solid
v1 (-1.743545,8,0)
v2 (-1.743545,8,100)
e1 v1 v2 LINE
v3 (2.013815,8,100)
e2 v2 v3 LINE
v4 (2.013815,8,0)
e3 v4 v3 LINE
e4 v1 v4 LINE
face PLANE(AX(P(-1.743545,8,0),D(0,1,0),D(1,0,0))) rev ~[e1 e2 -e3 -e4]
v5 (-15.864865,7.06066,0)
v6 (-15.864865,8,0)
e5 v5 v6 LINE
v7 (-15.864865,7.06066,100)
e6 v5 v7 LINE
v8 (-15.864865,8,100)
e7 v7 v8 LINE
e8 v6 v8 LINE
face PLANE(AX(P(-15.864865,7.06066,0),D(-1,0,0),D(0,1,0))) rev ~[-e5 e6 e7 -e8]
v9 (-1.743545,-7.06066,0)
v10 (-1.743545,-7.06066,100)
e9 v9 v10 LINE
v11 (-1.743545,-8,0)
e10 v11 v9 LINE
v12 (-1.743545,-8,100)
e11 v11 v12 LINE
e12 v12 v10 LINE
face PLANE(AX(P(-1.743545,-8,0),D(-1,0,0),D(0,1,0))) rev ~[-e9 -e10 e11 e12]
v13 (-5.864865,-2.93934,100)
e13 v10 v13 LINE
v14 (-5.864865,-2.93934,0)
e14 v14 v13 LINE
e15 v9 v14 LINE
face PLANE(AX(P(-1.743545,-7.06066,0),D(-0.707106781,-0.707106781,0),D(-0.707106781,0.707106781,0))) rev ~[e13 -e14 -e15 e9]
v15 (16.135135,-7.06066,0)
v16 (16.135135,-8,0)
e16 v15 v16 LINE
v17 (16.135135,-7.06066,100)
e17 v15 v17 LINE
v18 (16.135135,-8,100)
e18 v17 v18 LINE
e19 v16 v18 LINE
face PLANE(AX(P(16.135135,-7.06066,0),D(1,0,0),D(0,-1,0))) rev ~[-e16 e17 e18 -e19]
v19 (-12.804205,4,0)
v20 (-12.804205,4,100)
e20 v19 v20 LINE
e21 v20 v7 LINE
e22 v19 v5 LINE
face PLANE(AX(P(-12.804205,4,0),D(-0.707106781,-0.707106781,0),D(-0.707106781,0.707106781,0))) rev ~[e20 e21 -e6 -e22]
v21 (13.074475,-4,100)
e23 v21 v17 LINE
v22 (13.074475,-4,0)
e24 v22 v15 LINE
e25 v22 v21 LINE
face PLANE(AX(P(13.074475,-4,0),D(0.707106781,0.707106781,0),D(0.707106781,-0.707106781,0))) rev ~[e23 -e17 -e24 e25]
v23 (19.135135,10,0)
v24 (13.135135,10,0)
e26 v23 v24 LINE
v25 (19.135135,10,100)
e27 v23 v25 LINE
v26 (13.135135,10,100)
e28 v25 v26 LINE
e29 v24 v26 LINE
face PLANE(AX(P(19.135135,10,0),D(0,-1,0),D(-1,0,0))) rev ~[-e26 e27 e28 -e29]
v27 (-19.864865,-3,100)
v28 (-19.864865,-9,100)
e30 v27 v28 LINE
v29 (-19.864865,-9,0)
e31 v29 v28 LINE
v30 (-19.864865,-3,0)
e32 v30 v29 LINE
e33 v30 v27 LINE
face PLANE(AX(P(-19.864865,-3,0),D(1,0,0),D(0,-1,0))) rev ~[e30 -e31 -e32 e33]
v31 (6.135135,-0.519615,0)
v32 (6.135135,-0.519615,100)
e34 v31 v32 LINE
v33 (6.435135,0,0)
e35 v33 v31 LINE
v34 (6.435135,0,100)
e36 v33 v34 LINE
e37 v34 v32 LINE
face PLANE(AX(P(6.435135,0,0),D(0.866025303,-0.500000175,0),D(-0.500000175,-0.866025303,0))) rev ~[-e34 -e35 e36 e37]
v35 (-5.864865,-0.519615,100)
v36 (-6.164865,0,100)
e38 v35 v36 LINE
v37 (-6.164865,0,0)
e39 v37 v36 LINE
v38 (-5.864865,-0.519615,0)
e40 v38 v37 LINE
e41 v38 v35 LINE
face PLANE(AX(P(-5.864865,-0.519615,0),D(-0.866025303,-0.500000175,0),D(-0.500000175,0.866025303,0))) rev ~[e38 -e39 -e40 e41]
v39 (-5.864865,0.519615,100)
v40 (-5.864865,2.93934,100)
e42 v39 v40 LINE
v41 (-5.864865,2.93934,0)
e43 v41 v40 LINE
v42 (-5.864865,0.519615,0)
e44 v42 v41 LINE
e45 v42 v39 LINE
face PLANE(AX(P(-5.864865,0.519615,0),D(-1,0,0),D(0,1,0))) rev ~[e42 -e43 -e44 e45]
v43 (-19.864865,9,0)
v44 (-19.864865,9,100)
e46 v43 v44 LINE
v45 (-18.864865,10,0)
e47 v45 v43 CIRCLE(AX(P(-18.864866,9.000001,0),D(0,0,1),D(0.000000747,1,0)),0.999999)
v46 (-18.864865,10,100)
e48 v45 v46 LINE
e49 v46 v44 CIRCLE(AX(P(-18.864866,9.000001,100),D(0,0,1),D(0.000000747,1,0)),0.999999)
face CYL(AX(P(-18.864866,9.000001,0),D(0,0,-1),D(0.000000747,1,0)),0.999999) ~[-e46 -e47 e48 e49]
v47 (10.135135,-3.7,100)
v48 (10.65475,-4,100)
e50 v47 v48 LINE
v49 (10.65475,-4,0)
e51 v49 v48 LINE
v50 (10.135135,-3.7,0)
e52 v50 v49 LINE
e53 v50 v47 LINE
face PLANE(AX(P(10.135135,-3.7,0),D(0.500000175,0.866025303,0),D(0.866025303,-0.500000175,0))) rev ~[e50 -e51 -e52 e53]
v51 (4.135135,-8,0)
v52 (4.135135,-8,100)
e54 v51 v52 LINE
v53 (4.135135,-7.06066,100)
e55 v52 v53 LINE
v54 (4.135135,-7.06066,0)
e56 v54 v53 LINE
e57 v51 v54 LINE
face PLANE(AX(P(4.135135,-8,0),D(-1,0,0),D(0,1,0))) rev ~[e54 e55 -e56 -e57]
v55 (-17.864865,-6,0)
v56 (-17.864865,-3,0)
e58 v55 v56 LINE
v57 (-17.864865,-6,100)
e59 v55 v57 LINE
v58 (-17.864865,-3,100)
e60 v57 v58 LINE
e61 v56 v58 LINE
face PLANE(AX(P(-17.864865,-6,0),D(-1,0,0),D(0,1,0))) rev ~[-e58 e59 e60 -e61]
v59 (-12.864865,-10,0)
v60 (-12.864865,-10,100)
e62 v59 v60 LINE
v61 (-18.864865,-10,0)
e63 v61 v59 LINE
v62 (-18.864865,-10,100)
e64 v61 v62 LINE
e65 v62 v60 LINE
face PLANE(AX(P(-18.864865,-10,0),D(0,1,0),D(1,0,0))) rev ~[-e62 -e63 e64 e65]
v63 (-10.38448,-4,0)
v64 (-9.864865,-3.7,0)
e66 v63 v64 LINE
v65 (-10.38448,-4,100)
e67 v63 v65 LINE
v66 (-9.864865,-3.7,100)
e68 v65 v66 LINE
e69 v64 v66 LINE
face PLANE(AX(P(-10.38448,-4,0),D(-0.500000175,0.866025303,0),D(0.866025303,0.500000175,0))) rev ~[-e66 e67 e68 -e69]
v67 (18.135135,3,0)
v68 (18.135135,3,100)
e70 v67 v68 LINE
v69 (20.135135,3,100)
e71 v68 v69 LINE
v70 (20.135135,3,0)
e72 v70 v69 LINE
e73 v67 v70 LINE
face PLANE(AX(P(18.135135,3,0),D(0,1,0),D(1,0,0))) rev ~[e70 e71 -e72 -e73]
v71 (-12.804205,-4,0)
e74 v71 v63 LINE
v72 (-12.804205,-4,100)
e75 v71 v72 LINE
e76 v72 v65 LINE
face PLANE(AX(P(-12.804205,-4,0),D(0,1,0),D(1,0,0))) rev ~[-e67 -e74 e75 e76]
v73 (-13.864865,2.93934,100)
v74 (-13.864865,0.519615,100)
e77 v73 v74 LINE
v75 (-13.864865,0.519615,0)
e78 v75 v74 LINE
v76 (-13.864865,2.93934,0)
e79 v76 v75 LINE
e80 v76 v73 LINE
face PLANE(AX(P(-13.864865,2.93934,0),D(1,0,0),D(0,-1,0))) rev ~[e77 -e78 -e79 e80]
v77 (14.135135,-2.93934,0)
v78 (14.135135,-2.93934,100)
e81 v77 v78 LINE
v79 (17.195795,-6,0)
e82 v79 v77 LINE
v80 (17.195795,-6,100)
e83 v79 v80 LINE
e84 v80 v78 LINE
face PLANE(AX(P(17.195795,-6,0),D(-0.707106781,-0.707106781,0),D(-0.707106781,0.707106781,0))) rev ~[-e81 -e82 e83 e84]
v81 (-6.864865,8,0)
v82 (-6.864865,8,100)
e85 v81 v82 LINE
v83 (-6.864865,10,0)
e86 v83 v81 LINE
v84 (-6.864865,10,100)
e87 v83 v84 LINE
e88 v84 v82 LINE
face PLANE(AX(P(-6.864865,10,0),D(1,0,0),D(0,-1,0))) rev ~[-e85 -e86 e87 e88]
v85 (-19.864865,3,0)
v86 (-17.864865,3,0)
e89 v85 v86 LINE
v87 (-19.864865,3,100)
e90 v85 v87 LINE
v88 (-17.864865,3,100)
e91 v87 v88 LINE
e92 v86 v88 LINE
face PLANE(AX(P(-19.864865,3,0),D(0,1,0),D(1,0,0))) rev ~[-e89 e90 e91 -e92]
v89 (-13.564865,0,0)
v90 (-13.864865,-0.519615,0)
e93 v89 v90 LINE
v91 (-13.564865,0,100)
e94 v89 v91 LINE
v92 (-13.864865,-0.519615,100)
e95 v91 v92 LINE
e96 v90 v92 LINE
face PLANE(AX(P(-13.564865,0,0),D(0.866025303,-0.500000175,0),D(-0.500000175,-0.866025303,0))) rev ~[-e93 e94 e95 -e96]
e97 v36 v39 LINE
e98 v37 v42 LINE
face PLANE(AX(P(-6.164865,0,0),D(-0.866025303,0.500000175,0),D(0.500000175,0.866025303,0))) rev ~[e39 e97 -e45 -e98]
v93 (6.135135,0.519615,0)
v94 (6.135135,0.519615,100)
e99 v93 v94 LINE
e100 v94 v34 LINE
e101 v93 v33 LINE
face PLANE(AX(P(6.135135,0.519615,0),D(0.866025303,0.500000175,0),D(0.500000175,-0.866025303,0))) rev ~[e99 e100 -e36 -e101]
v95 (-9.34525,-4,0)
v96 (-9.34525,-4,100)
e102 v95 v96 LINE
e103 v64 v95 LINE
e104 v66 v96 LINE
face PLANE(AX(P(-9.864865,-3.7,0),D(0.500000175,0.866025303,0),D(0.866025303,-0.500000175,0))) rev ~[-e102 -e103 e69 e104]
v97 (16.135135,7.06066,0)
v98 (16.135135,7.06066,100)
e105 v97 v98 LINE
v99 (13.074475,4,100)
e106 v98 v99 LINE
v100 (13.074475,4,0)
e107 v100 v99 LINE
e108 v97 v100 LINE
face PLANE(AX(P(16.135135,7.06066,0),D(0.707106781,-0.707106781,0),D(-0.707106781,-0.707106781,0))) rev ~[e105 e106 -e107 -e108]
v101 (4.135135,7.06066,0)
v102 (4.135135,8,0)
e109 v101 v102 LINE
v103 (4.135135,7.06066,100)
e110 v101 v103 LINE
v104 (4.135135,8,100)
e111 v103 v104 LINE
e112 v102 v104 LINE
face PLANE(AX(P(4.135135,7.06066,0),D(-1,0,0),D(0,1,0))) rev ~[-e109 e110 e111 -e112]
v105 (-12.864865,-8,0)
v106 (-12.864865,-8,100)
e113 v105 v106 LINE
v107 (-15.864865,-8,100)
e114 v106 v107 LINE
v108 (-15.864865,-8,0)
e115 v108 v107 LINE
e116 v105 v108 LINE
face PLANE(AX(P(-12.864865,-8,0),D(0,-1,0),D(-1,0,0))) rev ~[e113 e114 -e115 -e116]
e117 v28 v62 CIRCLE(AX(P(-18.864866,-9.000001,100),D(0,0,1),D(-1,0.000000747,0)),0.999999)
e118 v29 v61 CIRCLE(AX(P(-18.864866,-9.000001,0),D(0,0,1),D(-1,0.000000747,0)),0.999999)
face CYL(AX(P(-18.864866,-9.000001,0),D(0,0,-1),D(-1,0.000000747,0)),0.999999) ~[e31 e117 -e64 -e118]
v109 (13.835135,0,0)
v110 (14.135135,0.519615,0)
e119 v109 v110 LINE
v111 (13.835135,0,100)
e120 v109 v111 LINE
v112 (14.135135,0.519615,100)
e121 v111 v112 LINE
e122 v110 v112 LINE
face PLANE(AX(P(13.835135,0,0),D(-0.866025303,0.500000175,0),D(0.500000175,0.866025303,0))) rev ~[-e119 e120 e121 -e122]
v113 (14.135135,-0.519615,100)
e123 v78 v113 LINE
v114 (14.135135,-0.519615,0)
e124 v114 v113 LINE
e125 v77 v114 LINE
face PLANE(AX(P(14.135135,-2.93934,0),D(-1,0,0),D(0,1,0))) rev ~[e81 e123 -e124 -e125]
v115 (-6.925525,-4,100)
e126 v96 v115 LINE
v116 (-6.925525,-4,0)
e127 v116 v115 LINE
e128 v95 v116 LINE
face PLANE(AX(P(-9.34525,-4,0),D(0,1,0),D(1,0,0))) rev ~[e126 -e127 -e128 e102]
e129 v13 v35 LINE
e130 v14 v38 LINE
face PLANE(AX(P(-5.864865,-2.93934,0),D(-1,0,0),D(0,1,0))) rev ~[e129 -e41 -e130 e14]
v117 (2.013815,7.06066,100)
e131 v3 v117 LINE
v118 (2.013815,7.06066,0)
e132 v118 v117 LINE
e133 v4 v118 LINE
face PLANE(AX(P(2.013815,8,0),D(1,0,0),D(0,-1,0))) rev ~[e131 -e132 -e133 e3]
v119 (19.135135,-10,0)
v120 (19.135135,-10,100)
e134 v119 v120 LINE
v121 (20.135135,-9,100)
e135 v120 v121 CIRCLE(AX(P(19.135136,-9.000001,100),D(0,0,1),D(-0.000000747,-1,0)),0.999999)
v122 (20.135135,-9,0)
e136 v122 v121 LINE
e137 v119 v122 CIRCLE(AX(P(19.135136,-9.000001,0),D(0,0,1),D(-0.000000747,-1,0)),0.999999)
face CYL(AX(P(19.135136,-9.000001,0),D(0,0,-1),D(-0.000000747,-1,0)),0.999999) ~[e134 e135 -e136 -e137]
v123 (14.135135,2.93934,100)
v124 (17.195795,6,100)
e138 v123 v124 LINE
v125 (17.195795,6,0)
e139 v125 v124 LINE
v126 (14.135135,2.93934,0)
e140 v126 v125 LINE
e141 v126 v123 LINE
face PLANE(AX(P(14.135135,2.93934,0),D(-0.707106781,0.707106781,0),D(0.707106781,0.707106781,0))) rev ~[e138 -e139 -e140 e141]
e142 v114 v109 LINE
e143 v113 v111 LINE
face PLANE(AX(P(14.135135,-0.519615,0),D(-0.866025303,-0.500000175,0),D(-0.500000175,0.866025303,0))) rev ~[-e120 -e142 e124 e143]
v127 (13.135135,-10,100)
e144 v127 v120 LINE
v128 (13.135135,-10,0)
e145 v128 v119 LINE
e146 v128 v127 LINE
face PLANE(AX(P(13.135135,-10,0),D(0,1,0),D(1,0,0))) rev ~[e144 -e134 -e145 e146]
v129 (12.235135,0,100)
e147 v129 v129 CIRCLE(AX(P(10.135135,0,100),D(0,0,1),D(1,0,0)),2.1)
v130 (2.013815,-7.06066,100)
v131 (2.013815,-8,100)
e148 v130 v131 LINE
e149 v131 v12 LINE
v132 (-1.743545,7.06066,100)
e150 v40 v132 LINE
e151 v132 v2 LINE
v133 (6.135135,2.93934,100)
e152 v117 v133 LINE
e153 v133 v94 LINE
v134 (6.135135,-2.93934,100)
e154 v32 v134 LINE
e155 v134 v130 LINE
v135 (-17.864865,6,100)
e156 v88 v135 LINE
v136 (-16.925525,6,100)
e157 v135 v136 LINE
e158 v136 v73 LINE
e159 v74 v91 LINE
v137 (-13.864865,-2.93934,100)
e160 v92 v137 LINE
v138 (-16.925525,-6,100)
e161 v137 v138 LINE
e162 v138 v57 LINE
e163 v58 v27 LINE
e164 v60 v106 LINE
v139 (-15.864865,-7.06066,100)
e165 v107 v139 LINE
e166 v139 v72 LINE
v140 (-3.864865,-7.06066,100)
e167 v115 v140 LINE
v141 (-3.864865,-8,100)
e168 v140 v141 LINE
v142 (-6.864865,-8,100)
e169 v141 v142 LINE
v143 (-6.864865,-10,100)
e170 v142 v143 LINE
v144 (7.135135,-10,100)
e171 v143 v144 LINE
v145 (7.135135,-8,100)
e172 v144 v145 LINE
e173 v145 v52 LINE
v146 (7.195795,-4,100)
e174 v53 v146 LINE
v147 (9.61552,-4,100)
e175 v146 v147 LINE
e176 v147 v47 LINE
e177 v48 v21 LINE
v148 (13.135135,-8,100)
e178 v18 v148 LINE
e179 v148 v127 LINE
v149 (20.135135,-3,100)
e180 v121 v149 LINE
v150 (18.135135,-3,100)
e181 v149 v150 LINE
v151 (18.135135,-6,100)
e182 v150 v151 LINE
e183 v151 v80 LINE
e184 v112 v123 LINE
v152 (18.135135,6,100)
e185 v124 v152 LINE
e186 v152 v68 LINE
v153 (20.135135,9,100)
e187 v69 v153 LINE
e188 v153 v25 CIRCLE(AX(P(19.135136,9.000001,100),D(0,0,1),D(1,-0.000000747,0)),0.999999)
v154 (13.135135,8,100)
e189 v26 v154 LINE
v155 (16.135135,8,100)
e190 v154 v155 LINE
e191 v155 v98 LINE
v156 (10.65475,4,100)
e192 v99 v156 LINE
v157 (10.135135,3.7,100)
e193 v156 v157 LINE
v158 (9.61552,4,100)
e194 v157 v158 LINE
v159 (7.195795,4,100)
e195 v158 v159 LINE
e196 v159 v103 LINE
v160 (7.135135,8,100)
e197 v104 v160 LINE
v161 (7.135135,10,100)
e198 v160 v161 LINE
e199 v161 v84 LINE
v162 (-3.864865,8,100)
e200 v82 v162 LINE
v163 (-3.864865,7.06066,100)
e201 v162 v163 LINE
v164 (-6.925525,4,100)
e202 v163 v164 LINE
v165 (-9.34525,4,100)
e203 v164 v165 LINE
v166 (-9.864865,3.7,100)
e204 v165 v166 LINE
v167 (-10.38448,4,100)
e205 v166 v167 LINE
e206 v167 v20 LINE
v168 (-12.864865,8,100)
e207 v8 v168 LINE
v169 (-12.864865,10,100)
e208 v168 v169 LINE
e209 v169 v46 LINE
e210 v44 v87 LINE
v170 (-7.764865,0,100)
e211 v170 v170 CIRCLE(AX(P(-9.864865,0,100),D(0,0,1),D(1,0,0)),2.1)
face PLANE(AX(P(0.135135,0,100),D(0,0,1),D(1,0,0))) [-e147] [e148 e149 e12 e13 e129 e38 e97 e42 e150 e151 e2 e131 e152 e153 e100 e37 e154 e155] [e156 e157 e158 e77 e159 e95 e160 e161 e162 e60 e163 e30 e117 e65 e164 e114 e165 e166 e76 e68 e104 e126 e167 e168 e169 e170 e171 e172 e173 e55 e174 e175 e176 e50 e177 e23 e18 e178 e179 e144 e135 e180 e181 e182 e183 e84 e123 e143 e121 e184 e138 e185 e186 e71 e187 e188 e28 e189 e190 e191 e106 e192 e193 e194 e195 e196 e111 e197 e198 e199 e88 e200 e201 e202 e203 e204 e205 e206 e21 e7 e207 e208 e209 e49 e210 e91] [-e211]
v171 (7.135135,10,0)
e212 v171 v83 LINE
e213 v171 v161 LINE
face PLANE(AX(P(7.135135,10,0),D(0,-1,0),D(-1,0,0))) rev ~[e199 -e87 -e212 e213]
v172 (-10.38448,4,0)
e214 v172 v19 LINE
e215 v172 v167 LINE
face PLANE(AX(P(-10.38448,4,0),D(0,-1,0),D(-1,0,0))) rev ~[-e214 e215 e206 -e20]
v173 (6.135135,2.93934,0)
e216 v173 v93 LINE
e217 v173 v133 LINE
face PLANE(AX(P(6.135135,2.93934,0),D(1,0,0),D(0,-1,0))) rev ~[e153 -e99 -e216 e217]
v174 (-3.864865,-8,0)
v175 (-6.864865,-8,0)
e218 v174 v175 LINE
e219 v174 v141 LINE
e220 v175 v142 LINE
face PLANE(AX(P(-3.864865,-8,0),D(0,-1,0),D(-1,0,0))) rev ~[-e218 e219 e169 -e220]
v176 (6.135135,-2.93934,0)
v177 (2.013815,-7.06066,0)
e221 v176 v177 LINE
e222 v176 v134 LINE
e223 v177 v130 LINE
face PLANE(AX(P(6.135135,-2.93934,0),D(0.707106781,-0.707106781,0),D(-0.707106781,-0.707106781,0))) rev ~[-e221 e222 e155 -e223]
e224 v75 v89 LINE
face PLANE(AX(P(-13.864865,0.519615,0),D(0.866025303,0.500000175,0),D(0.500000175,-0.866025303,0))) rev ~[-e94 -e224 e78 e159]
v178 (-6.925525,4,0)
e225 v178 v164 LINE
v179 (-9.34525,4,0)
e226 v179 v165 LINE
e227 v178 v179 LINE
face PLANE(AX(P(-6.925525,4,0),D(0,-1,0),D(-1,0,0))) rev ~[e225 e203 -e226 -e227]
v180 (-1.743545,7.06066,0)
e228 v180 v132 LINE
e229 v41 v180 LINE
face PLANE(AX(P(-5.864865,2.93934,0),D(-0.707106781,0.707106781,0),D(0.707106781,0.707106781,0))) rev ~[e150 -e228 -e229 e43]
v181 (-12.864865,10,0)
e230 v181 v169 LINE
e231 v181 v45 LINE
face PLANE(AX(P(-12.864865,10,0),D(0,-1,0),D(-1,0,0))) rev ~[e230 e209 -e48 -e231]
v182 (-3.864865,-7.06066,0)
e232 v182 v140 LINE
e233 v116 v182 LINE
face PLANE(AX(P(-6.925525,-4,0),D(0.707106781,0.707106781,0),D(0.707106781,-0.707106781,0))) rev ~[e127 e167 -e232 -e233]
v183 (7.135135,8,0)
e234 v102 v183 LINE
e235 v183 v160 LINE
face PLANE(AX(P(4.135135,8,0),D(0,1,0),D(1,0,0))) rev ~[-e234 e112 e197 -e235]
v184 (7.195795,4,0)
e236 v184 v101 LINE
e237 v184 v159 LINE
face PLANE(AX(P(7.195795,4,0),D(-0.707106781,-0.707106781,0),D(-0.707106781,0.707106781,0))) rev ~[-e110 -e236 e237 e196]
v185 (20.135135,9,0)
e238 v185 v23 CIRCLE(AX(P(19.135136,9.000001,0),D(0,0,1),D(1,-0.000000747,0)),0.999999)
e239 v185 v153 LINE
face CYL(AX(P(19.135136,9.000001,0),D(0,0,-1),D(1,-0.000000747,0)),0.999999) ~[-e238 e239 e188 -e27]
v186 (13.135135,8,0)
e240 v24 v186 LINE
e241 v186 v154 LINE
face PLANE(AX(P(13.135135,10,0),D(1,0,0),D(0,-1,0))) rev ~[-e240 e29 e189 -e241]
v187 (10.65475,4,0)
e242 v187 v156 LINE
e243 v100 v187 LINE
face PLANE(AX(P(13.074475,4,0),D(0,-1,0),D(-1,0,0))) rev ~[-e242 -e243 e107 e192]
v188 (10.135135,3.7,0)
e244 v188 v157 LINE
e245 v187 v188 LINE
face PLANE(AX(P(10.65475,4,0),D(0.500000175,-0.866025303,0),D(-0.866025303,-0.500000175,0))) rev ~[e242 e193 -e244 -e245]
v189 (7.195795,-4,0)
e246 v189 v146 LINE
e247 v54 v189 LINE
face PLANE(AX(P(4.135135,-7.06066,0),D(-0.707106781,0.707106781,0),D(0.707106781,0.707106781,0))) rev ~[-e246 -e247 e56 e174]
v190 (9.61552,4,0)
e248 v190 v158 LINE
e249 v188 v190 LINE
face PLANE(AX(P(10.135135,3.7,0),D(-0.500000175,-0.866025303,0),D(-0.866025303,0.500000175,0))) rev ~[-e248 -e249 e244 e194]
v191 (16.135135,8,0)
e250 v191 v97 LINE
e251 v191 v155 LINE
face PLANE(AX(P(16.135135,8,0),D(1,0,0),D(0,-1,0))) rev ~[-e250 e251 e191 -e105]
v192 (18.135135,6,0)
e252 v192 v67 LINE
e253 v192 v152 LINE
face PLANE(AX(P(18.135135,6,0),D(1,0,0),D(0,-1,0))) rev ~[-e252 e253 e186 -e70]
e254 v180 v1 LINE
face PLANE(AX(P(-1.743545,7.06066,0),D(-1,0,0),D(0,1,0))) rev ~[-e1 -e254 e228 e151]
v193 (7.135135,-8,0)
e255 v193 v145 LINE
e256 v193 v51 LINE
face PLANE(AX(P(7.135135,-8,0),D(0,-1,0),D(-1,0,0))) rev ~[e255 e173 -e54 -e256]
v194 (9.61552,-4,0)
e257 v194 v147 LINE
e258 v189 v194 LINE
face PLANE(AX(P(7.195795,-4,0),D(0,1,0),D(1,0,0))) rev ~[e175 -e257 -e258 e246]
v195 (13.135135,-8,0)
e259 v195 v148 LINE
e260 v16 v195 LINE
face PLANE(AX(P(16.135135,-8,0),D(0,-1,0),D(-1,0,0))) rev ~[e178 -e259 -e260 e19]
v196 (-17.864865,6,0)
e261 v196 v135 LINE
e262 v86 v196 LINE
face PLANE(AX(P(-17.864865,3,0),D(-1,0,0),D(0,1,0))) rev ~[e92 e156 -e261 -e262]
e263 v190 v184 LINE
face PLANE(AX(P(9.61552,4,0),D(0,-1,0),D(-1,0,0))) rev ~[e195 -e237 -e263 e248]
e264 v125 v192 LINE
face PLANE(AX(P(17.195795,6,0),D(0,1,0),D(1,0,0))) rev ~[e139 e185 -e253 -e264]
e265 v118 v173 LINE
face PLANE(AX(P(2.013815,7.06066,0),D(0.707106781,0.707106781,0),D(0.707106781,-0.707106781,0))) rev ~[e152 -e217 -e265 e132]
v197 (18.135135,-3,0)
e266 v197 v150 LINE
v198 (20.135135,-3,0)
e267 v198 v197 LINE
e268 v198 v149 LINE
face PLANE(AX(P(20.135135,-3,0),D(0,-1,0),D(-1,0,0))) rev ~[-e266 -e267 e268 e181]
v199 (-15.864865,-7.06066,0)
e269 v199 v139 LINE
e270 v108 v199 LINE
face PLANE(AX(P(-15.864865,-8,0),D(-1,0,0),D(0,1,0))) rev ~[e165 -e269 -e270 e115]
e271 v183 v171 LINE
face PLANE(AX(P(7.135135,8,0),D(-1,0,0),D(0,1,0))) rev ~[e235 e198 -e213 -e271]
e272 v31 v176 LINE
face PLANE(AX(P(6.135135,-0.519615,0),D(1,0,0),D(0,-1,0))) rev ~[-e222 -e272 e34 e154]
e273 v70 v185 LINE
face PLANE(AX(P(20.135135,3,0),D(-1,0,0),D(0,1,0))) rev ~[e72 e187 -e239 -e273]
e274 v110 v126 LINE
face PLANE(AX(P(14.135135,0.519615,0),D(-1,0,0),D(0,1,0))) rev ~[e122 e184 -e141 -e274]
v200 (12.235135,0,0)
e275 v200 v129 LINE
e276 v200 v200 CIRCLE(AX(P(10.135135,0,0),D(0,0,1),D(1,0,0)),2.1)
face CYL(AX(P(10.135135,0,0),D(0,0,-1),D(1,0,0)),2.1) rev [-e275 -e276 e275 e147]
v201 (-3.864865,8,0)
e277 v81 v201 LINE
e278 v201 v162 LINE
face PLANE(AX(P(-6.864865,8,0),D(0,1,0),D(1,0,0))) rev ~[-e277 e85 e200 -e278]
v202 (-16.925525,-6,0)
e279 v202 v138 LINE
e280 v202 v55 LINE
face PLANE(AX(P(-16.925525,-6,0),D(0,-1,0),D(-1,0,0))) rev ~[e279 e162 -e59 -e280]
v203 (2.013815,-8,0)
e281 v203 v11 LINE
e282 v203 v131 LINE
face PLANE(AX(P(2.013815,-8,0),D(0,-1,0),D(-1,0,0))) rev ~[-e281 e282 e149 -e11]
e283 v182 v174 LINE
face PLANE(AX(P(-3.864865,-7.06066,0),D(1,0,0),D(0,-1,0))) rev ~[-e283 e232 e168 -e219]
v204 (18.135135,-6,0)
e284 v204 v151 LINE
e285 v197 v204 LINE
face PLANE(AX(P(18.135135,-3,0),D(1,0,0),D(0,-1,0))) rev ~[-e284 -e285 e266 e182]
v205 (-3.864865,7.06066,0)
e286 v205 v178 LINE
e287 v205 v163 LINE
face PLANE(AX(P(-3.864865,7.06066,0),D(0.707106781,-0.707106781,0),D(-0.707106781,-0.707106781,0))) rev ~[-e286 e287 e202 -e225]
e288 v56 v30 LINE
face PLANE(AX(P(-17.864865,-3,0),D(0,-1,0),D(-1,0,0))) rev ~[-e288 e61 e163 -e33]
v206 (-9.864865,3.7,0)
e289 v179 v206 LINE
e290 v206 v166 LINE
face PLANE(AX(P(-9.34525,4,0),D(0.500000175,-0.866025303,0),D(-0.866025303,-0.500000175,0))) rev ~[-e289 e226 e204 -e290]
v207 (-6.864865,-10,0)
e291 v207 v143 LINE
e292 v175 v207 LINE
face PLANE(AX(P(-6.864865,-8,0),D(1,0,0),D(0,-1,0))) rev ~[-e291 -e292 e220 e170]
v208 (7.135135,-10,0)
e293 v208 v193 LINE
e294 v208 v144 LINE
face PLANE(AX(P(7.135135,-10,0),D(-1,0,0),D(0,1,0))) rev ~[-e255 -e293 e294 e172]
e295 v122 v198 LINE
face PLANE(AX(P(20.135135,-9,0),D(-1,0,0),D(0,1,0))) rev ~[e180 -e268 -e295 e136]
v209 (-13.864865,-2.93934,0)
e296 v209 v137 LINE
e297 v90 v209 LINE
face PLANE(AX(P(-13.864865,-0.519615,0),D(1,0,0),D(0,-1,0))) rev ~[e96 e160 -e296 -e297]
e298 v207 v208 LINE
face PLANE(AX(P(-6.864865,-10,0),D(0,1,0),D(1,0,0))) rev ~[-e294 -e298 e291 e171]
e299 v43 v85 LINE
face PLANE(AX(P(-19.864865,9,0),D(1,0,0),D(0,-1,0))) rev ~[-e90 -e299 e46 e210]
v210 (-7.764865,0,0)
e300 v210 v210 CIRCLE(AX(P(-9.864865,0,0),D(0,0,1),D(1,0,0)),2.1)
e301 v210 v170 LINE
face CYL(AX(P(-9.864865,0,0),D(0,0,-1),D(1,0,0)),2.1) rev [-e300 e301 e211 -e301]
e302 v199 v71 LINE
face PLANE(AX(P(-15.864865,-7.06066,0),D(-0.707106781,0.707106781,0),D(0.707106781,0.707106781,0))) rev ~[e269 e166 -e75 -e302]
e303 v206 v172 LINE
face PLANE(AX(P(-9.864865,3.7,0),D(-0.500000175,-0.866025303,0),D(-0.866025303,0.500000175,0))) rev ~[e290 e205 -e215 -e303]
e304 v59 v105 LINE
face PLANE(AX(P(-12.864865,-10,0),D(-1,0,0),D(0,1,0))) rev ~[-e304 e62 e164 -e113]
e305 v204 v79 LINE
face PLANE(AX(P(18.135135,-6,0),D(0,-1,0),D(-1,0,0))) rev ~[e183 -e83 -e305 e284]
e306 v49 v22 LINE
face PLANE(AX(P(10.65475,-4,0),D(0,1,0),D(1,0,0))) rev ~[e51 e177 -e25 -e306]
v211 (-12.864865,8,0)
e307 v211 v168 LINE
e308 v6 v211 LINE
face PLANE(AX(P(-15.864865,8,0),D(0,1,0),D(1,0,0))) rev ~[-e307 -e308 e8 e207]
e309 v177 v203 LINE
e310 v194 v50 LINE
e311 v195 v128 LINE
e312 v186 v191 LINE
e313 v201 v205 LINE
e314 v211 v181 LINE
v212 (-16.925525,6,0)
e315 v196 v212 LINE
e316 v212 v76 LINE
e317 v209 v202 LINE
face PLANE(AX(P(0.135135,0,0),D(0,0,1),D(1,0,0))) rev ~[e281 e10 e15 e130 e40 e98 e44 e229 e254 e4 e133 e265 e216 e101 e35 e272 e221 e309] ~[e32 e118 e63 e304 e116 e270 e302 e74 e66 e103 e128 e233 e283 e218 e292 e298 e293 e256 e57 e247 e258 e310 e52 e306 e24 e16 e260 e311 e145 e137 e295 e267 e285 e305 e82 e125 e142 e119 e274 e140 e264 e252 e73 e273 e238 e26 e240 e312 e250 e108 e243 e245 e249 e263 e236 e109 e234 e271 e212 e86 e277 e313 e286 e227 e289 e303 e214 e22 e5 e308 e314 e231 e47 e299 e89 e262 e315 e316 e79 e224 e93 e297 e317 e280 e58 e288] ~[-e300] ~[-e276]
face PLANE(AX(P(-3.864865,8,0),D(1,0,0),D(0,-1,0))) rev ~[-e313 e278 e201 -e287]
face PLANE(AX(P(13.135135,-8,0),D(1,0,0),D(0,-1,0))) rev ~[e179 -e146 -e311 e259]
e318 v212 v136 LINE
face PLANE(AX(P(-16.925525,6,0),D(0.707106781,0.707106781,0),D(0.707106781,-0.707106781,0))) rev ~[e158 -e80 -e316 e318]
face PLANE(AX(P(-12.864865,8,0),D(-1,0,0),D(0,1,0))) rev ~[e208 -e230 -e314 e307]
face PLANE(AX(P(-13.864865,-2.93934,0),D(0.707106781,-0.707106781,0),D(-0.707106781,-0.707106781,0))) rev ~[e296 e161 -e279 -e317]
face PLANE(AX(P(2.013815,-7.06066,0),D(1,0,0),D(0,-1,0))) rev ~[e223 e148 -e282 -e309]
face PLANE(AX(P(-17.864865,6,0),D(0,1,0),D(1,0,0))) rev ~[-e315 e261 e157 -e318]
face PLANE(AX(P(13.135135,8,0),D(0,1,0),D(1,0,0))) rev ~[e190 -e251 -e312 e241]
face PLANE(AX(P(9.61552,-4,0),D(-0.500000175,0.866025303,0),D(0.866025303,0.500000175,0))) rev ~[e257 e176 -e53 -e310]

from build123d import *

# Parameters (mm, degrees)
F0_R     = 2.1
F1_DEPTH = 100


with BuildPart() as f1:
    # F0 (on Top) → F1 (new body)
    with BuildSketch(Plane.XY):
        with BuildLine():
            Line((14.135135, -0.519615), (13.835135, 0))
            Line((13.835135, 0), (14.135135, 0.519615))
            Line((14.135135, 0.519615), (14.135135, 2.93934))
            Line((14.135135, 2.93934), (17.195795, 6))
            Line((17.195795, 6), (18.135135, 6))
            Line((18.135135, 6), (18.135135, 3))
            Line((18.135135, 3), (20.135135, 3))
            Line((20.135135, 3), (20.135135, 9))
            ThreePointArc((20.135135, 9), (19.842242, 9.707107), (19.135135, 10))
            Line((19.135135, 10), (13.135135, 10))
            Line((13.135135, 10), (13.135135, 8))
            Line((13.135135, 8), (16.135135, 8))
            Line((16.135135, 8), (16.135135, 7.06066))
            Line((16.135135, 7.06066), (13.074475, 4))
            Line((13.074475, 4), (10.65475, 4))
            Line((10.65475, 4), (10.135135, 3.7))
            Line((10.135135, 3.7), (9.61552, 4))
            Line((9.61552, 4), (7.195795, 4))
            Line((7.195795, 4), (4.135135, 7.06066))
            Line((4.135135, 7.06066), (4.135135, 8))
            Line((4.135135, 8), (7.135135, 8))
            Line((7.135135, 8), (7.135135, 10))
            Line((7.135135, 10), (-6.864865, 10))
            Line((-6.864865, 10), (-6.864865, 8))
            Line((-6.864865, 8), (-3.864865, 8))
            Line((-3.864865, 8), (-3.864865, 7.06066))
            Line((-3.864865, 7.06066), (-6.925525, 4))
            Line((-6.925525, 4), (-9.34525, 4))
            Line((-9.34525, 4), (-9.864865, 3.7))
            Line((-9.864865, 3.7), (-10.38448, 4))
            Line((-10.38448, 4), (-12.804205, 4))
            Line((-12.804205, 4), (-15.864865, 7.06066))
            Line((-15.864865, 7.06066), (-15.864865, 8))
            Line((-15.864865, 8), (-12.864865, 8))
            Line((-12.864865, 8), (-12.864865, 10))
            Line((-12.864865, 10), (-18.864865, 10))
            ThreePointArc((-18.864865, 10), (-19.571972, 9.707107), (-19.864865, 9))
            Line((-19.864865, 9), (-19.864865, 3))
            Line((-19.864865, 3), (-17.864865, 3))
            Line((-17.864865, 3), (-17.864865, 6))
            Line((-17.864865, 6), (-16.925525, 6))
            Line((-16.925525, 6), (-13.864865, 2.93934))
            Line((-13.864865, 2.93934), (-13.864865, 0.519615))
            Line((-13.864865, 0.519615), (-13.564865, 0))
            Line((-13.564865, 0), (-13.864865, -0.519615))
            Line((-13.864865, -0.519615), (-13.864865, -2.93934))
            Line((-13.864865, -2.93934), (-16.925525, -6))
            Line((-16.925525, -6), (-17.864865, -6))
            Line((-17.864865, -6), (-17.864865, -3))
            Line((-17.864865, -3), (-19.864865, -3))
            Line((-19.864865, -3), (-19.864865, -9))
            ThreePointArc((-19.864865, -9), (-19.571972, -9.707107), (-18.864865, -10))
            Line((-18.864865, -10), (-12.864865, -10))
            Line((-12.864865, -10), (-12.864865, -8))
            Line((-12.864865, -8), (-15.864865, -8))
            Line((-15.864865, -8), (-15.864865, -7.06066))
            Line((-15.864865, -7.06066), (-12.804205, -4))
            Line((-12.804205, -4), (-10.38448, -4))
            Line((-10.38448, -4), (-9.864865, -3.7))
            Line((-9.864865, -3.7), (-9.34525, -4))
            Line((-9.34525, -4), (-6.925525, -4))
            Line((-6.925525, -4), (-3.864865, -7.06066))
            Line((-3.864865, -7.06066), (-3.864865, -8))
            Line((-3.864865, -8), (-6.864865, -8))
            Line((-6.864865, -8), (-6.864865, -10))
            Line((-6.864865, -10), (7.135135, -10))
            Line((7.135135, -10), (7.135135, -8))
            Line((7.135135, -8), (4.135135, -8))
            Line((4.135135, -8), (4.135135, -7.06066))
            Line((4.135135, -7.06066), (7.195795, -4))
            Line((7.195795, -4), (9.61552, -4))
            Line((9.61552, -4), (10.135135, -3.7))
            Line((10.135135, -3.7), (10.65475, -4))
            Line((10.65475, -4), (13.074475, -4))
            Line((13.074475, -4), (16.135135, -7.06066))
            Line((16.135135, -7.06066), (16.135135, -8))
            Line((16.135135, -8), (13.135135, -8))
            Line((13.135135, -8), (13.135135, -10))
            Line((13.135135, -10), (19.135135, -10))
            ThreePointArc((19.135135, -10), (19.842242, -9.707107), (20.135135, -9))
            Line((20.135135, -9), (20.135135, -3))
            Line((20.135135, -3), (18.135135, -3))
            Line((18.135135, -3), (18.135135, -6))
            Line((18.135135, -6), (17.195795, -6))
            Line((17.195795, -6), (14.135135, -2.93934))
            Line((14.135135, -2.93934), (14.135135, -0.519615))
        make_face()
        with Locations((-9.864865, 0)):
            Circle(F0_R, mode=Mode.SUBTRACT)
        Polygon((6.435135, 0), (6.135135, -0.519615), (6.135135, -2.93934), (3.074475, -6), (2.013815, -7.06066), (2.013815, -8), (-1.743545, -8), (-1.743545, -7.06066), (-2.804205, -6), (-5.864865, -2.93934), (-5.864865, -0.519615), (-6.164865, 0), (-5.864865, 0.519615), (-5.864865, 2.93934), (-2.804205, 6), (-1.743545, 7.06066), (-1.743545, 8), (2.013815, 8), (2.013815, 7.06066), (3.074475, 6), (6.135135, 2.93934), (6.135135, 0.519615), align=None, mode=Mode.SUBTRACT)
        with Locations((10.135135, 0)):
            Circle(F0_R, mode=Mode.SUBTRACT)
    extrude(amount=F1_DEPTH)


solid = f1.part
